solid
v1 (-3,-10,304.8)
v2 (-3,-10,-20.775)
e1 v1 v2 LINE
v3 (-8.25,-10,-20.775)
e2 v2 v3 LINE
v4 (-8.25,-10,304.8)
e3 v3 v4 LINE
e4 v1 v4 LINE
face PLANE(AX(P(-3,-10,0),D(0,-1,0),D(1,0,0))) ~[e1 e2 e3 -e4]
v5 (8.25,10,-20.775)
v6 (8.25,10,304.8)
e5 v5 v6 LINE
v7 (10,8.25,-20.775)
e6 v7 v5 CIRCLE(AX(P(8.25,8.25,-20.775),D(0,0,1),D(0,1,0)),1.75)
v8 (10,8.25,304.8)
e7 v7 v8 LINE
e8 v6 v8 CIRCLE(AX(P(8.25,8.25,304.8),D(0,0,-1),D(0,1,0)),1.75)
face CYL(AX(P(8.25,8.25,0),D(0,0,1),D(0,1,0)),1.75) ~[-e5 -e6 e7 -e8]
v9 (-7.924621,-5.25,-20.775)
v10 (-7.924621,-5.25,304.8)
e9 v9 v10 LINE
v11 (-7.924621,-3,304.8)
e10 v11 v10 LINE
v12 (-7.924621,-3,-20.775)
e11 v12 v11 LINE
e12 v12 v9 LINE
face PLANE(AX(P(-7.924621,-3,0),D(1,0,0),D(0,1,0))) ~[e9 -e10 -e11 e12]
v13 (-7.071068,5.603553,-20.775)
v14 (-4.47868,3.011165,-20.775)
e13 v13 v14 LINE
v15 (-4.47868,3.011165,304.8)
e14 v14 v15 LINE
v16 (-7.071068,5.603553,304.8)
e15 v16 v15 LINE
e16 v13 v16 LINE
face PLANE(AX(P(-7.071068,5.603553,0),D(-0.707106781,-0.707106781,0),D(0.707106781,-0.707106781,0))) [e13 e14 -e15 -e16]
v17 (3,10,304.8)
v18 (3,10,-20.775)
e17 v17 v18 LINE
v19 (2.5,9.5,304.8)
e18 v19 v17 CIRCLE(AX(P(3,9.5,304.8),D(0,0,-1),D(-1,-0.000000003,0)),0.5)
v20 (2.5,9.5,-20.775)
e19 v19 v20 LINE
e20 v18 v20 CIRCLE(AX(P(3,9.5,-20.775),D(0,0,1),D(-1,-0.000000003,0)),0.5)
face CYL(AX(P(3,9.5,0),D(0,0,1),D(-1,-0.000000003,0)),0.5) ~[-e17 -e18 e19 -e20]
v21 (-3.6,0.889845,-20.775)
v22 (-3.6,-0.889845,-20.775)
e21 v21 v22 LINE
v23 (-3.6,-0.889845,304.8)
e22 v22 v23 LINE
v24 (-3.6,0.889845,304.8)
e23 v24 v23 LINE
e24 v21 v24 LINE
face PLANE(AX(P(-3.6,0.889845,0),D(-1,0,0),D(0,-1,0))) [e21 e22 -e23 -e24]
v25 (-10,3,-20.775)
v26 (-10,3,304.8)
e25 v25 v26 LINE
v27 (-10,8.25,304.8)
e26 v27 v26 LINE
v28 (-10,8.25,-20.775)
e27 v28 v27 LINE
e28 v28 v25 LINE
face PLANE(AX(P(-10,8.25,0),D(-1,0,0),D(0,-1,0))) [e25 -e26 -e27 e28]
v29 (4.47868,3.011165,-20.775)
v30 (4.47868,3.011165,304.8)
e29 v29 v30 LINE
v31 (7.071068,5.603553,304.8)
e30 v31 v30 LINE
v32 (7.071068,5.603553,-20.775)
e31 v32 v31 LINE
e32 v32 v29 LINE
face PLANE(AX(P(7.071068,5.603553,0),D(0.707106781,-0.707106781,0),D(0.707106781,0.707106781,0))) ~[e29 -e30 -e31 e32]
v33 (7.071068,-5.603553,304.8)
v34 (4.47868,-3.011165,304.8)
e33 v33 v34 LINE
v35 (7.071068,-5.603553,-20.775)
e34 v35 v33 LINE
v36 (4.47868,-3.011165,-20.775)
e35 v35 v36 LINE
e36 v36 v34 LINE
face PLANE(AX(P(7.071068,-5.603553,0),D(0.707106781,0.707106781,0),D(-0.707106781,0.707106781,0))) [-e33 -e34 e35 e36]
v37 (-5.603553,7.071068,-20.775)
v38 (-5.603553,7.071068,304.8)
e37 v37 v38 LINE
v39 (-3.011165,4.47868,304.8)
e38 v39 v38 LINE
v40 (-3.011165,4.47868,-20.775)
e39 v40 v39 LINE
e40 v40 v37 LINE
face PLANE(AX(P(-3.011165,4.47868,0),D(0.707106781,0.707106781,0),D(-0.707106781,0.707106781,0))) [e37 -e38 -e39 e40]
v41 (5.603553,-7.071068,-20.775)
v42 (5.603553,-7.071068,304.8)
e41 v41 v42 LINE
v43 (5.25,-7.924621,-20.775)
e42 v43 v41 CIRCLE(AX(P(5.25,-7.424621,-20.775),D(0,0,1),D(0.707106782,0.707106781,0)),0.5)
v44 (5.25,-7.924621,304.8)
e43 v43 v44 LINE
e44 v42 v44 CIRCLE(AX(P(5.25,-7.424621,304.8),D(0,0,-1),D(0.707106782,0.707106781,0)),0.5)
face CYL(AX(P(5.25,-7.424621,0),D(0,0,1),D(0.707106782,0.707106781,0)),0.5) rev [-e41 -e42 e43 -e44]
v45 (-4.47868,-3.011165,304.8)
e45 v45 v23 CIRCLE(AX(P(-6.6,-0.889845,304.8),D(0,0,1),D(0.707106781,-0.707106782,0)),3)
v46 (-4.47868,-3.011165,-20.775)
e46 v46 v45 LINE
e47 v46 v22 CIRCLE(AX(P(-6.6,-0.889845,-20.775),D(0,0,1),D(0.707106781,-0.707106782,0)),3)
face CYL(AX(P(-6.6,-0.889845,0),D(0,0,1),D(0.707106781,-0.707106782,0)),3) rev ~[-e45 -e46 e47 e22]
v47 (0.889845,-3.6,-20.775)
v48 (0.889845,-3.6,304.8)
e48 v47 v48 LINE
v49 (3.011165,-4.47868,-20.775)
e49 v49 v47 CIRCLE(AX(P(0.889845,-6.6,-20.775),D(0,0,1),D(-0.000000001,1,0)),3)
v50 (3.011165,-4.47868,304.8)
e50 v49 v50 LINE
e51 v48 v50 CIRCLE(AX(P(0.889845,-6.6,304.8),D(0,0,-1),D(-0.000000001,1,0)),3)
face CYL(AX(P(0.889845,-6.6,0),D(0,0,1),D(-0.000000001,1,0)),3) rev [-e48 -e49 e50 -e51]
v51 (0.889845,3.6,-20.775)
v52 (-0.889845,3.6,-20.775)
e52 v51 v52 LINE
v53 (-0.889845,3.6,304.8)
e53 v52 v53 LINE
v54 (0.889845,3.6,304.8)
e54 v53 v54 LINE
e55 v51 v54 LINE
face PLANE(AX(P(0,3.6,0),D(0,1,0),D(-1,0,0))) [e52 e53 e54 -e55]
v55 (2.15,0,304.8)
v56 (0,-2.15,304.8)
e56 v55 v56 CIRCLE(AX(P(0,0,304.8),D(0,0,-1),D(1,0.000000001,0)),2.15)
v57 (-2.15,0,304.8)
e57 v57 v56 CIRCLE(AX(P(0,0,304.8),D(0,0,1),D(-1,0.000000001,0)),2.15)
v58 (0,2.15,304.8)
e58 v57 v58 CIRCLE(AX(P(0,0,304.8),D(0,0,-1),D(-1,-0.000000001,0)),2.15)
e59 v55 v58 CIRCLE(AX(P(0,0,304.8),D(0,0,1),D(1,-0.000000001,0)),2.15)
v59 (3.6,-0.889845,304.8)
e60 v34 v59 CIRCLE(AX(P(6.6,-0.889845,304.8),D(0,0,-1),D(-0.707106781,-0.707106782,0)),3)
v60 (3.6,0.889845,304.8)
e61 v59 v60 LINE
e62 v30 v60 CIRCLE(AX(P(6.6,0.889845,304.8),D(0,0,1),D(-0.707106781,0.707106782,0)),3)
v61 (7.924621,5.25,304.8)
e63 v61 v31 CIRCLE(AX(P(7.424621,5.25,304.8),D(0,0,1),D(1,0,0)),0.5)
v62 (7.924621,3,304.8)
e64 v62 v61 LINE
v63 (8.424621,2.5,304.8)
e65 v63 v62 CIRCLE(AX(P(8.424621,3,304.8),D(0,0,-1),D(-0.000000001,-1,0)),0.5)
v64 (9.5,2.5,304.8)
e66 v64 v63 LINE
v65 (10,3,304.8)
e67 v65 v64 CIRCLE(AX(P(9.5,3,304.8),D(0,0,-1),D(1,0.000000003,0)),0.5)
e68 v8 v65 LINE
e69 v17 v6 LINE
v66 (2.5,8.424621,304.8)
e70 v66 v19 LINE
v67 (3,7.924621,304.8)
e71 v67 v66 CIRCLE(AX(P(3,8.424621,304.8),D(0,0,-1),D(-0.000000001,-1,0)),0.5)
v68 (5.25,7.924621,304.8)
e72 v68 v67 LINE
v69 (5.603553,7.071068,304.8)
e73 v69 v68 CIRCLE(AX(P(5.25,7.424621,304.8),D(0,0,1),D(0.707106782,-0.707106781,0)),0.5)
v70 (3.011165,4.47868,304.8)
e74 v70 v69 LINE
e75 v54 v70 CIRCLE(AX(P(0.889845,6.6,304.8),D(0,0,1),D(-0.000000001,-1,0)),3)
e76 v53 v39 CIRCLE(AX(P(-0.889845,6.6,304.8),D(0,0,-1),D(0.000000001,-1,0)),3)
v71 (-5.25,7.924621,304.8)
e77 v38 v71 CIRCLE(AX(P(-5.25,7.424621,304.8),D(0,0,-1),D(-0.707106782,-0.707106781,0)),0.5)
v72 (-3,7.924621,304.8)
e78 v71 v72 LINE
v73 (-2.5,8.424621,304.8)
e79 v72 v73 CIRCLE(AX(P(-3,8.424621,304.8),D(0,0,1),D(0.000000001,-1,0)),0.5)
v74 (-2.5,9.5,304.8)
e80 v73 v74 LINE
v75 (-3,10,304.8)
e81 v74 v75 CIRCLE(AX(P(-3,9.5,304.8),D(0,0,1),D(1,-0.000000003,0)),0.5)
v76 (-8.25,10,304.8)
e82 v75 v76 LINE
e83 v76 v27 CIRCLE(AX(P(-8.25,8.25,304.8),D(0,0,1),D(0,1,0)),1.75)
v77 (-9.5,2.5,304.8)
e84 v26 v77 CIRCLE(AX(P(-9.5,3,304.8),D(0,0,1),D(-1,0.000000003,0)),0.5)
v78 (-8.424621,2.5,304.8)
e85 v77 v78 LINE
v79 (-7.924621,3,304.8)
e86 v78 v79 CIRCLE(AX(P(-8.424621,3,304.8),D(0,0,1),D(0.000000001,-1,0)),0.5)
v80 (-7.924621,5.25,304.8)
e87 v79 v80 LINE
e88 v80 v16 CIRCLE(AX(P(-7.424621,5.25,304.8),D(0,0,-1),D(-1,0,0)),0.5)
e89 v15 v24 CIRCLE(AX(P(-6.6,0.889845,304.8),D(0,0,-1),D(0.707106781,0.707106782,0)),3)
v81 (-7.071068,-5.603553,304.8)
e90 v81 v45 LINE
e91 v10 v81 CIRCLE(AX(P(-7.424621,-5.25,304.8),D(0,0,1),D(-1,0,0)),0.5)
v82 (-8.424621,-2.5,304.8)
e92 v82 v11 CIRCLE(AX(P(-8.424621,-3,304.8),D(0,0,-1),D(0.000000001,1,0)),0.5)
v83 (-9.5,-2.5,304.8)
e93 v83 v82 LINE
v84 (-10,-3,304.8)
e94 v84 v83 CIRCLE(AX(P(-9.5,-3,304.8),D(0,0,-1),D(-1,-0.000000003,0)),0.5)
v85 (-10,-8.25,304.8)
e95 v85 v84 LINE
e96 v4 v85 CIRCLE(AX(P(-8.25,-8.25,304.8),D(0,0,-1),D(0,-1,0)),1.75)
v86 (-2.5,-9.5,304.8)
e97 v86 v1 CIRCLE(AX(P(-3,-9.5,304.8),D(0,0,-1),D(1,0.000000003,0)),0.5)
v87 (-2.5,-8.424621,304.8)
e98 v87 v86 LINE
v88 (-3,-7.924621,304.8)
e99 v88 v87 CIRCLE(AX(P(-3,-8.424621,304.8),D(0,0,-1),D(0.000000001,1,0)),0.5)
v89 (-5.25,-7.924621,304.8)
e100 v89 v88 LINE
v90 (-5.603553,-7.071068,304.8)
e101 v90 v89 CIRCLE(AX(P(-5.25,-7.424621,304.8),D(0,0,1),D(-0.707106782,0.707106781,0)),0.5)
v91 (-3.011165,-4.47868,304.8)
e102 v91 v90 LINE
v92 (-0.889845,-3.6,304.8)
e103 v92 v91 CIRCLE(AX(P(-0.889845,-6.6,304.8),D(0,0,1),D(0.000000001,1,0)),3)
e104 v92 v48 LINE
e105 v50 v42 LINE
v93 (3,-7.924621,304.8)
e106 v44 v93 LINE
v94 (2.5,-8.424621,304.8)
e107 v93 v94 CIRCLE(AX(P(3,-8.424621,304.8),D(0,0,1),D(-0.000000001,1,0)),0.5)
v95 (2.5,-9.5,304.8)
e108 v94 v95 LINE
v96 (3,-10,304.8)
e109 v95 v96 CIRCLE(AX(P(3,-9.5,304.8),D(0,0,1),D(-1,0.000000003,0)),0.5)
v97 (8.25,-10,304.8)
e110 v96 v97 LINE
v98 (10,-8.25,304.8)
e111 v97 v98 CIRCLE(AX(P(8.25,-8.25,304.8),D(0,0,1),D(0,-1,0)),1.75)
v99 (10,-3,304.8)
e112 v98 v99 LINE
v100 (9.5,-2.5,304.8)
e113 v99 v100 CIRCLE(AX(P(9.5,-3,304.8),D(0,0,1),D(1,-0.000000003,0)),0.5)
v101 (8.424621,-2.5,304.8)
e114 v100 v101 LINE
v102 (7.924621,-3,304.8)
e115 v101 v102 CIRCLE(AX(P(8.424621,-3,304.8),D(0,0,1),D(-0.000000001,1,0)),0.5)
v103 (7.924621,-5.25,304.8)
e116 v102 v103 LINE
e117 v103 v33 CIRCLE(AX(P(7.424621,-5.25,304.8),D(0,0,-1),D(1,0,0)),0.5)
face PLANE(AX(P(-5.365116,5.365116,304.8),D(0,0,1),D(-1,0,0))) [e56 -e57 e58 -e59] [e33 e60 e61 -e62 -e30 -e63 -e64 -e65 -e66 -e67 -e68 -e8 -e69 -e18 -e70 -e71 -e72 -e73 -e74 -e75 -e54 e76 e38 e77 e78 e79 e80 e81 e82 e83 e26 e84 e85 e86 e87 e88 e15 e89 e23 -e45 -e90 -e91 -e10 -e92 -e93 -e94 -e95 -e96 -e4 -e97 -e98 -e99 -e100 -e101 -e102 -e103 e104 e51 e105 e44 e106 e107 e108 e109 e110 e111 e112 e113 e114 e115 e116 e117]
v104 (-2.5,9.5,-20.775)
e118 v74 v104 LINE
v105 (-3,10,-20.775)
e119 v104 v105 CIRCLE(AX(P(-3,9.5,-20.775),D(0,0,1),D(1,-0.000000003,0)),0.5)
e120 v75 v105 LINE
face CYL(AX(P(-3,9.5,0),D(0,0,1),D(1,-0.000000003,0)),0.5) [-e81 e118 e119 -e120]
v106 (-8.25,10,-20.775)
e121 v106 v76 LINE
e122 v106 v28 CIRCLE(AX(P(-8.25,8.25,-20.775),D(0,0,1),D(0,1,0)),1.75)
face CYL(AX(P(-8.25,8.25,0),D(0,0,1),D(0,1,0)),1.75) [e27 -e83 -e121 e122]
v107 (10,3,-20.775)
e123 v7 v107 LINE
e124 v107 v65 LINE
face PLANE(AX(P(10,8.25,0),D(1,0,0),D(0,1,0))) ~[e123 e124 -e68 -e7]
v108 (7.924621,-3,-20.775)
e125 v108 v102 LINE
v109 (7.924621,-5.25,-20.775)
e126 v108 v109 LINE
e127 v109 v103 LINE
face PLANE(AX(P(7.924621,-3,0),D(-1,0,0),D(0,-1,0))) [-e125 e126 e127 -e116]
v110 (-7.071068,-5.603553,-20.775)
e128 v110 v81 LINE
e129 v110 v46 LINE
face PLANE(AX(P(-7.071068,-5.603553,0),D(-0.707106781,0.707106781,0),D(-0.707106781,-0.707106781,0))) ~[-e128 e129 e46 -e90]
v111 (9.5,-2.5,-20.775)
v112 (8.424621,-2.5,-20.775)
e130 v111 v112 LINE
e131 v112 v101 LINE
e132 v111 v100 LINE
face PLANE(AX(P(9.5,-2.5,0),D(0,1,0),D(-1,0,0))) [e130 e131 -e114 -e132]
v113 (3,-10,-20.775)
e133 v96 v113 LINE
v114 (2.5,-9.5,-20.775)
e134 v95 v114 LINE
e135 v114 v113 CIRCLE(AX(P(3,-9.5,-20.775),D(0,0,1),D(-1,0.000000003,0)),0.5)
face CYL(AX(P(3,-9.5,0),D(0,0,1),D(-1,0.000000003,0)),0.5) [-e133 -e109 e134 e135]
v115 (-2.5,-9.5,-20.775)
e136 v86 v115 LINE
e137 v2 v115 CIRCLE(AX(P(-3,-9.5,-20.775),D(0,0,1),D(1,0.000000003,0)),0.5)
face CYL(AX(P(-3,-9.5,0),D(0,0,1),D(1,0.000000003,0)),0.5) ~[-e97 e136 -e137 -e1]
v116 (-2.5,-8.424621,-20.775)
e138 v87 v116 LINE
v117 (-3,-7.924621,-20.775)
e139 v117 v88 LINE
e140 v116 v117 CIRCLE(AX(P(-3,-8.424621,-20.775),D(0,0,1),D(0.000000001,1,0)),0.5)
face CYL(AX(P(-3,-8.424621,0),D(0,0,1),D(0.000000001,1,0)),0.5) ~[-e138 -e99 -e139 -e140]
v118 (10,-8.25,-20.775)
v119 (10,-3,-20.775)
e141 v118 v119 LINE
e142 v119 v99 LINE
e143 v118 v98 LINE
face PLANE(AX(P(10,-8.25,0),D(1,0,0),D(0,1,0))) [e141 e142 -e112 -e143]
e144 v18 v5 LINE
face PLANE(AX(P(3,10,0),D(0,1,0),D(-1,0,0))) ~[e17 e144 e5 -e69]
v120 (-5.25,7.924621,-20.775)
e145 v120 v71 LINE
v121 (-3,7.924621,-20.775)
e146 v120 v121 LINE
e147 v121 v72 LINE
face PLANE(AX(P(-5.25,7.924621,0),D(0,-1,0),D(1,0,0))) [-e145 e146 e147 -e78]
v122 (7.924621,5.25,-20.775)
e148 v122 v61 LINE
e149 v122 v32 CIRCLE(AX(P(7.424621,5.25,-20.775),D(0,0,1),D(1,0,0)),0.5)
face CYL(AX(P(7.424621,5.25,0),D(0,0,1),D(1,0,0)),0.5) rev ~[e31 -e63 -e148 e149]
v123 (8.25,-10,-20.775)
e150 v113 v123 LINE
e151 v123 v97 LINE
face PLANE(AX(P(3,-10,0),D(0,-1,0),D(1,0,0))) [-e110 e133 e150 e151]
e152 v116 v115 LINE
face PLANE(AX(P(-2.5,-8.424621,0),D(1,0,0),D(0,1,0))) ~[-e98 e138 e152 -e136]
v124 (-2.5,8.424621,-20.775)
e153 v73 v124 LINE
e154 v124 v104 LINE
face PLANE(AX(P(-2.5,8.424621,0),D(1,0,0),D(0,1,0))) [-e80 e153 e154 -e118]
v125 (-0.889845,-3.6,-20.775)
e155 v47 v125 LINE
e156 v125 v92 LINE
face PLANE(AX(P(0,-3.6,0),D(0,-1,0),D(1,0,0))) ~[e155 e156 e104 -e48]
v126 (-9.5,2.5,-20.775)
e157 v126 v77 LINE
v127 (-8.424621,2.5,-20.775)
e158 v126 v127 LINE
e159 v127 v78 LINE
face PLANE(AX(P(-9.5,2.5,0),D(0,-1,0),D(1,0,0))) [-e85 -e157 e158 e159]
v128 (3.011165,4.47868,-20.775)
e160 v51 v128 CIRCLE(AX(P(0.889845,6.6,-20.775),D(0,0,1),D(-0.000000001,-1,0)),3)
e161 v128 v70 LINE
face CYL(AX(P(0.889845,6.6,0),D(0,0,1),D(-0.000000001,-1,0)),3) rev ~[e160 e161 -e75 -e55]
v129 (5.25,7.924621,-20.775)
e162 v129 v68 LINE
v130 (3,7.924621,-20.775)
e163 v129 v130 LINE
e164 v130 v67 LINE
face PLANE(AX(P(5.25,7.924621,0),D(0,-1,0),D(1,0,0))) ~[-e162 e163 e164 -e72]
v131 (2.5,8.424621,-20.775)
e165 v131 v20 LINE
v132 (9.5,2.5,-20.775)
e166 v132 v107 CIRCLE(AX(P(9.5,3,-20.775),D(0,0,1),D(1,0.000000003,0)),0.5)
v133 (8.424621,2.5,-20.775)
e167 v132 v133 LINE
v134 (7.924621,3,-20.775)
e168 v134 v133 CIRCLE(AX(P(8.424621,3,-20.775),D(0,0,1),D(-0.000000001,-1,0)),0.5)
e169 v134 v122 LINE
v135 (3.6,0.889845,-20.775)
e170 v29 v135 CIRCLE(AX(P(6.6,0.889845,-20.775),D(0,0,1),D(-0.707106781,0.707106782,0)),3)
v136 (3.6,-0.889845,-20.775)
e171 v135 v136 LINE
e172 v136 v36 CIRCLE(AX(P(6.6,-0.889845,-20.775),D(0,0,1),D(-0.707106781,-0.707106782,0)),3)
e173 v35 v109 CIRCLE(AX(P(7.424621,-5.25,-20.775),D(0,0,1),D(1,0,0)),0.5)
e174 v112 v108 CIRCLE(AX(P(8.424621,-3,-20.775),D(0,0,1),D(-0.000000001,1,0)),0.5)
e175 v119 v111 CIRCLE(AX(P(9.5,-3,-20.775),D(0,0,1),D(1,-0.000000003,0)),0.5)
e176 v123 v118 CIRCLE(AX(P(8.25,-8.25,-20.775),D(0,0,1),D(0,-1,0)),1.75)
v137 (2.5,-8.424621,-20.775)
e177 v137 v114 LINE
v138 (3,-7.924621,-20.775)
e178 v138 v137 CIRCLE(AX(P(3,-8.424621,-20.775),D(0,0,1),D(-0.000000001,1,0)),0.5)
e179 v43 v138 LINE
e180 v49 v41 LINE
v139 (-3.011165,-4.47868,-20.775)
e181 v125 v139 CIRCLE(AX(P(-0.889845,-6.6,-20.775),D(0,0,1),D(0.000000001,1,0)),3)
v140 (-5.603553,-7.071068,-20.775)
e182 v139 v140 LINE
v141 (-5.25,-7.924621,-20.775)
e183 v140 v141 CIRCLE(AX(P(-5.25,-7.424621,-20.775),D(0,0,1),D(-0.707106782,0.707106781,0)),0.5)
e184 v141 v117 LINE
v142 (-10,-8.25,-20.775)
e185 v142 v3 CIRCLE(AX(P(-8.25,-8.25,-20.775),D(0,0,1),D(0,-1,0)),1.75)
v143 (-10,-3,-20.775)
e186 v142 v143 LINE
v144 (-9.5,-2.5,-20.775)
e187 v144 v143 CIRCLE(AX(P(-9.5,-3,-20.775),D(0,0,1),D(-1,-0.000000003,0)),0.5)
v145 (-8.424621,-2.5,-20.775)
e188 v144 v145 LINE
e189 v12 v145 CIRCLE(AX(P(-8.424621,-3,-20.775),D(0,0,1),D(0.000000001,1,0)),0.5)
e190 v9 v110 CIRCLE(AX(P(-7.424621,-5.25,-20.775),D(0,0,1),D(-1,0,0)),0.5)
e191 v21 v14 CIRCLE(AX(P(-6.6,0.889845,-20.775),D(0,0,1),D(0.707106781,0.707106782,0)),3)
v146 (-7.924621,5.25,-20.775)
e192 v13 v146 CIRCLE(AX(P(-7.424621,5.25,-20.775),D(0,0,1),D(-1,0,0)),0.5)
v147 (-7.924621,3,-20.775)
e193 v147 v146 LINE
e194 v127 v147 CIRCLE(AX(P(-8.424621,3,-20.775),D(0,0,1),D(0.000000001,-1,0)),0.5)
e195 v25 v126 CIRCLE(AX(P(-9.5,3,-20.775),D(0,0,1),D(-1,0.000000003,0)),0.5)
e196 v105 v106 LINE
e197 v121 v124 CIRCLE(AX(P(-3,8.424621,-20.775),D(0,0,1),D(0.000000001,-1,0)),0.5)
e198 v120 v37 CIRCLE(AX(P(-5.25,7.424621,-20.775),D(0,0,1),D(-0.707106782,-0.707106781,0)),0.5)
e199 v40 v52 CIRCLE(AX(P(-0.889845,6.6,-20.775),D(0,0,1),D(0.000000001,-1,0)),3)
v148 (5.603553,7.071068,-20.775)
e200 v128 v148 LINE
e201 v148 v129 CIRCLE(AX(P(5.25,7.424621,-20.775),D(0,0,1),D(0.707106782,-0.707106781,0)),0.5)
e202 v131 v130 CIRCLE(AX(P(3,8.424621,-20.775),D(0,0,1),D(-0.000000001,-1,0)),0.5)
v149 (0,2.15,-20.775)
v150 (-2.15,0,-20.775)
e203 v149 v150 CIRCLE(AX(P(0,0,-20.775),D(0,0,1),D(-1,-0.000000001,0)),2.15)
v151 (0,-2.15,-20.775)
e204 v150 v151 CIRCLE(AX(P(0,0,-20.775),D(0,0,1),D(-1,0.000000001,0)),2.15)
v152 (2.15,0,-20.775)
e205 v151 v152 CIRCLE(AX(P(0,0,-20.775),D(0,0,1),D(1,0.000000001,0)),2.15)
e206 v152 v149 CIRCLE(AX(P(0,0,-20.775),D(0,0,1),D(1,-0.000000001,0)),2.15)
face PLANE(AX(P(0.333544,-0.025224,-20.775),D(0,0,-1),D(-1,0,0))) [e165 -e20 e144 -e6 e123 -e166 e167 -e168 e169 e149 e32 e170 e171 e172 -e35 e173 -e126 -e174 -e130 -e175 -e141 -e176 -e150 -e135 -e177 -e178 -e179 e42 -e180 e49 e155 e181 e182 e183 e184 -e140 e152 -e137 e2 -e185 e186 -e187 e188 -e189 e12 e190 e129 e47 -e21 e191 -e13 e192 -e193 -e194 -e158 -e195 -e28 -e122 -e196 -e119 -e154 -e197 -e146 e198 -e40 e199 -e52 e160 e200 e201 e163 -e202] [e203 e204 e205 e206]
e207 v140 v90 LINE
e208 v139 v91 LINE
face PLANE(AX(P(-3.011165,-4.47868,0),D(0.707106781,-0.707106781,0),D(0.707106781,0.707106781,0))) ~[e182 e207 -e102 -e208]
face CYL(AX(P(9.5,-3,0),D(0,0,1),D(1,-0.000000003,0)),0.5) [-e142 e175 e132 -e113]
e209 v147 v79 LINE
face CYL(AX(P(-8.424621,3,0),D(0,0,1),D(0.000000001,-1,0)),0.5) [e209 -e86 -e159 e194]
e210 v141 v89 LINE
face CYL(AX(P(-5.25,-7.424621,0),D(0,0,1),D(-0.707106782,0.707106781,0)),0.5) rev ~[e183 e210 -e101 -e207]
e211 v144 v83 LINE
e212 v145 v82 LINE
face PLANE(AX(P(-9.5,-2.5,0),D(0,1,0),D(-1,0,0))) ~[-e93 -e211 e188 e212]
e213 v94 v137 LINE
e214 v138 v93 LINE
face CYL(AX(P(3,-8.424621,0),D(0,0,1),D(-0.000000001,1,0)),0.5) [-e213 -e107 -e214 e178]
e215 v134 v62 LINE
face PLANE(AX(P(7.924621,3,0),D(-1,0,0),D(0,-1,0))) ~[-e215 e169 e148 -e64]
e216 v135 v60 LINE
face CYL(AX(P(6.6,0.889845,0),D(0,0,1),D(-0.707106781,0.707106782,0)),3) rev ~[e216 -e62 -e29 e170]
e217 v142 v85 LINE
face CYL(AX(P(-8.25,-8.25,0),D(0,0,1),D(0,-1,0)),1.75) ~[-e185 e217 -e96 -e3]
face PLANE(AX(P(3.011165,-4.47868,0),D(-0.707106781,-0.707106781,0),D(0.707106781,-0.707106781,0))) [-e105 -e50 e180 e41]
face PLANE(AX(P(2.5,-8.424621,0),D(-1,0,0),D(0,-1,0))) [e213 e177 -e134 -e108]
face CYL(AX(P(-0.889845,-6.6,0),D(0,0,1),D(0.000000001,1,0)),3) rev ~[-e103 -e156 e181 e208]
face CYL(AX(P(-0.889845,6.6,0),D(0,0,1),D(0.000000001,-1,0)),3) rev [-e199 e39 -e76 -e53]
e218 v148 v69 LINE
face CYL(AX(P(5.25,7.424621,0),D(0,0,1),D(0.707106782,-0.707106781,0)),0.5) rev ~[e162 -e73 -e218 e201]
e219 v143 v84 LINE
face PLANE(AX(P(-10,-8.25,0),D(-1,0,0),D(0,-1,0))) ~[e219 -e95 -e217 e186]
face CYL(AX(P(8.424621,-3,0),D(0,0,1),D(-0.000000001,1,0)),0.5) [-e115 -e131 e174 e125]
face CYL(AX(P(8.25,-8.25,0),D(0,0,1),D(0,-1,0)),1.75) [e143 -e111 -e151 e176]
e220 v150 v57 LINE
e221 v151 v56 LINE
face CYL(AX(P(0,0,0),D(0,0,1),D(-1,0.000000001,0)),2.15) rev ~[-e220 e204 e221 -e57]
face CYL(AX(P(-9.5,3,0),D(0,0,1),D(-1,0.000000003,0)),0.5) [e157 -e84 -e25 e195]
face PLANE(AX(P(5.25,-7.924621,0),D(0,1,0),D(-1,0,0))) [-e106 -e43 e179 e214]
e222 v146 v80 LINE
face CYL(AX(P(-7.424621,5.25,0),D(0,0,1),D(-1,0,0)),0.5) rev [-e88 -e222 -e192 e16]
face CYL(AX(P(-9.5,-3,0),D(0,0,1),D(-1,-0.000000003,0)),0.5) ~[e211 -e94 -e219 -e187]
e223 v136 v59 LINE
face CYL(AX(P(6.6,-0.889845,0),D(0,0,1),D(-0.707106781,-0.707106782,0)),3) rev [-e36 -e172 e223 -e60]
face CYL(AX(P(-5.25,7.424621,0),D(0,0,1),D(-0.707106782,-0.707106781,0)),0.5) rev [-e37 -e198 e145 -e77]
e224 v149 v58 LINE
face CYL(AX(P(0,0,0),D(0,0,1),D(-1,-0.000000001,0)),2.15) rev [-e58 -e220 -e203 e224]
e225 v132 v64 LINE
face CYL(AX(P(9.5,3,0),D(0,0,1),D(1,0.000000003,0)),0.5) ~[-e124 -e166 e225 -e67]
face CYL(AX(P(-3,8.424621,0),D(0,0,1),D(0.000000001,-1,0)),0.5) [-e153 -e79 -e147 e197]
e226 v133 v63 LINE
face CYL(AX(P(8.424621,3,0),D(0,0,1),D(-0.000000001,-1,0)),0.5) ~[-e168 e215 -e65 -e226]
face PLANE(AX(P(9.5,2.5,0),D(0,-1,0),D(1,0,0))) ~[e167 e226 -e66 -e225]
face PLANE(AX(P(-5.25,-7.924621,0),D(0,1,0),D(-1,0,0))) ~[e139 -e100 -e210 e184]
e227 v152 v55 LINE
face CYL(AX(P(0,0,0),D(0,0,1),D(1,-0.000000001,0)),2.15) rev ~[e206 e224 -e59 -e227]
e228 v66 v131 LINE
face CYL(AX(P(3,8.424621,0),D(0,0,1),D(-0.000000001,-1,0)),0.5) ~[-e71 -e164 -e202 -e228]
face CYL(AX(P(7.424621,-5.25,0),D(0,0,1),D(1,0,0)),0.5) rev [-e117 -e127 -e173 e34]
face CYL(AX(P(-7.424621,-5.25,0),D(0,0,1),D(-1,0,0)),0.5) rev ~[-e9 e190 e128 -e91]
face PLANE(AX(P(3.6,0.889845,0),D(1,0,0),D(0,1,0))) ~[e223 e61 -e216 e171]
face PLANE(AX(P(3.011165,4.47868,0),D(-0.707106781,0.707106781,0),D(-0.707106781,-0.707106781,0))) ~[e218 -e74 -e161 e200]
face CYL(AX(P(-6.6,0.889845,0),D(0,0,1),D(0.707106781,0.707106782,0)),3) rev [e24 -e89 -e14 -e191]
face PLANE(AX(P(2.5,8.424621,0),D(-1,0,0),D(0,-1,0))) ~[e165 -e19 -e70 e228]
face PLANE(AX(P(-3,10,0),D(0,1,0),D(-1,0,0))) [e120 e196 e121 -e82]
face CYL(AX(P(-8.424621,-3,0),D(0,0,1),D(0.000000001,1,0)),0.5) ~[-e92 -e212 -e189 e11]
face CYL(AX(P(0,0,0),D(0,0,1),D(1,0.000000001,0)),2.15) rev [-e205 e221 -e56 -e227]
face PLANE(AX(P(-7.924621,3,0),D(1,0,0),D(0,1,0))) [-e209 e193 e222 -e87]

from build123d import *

# Parameters (mm, degrees)
BOSS_EXTRUDE1_DEPTH = 304.8
SKETCH5_W           = 26.995197012
SKETCH5_H           = 24.68705749
CUT_EXTRUDE1_DEPTH  = 284.025


with BuildPart() as part:
    # Sketch4 → Boss-Extrude1 (new, symmetric)
    with BuildSketch(Plane.XY):
        with BuildLine():
            Line((3, -10), (8.25, -10))
            ThreePointArc((8.25, -10), (9.487436867, -9.487436867), (10, -8.25))
            Line((10, -8.25), (10, -3))
            ThreePointArc((10, -3), (9.853553391, -2.646446609), (9.5, -2.5))
            Line((9.5, -2.5), (8.424621202, -2.5))
            ThreePointArc((8.424621202, -2.5), (8.071067812, -2.646446609), (7.924621202, -3))
            Line((7.924621202, -3), (7.924621202, -5.25))
            ThreePointArc((7.924621202, -5.25), (7.615962919, -5.711939766), (7.071067812, -5.603553391))
            Line((7.071067812, -5.603553391), (4.478679656, -3.011165235))
            ThreePointArc((4.478679656, -3.011165235), (3.828361402, -2.037895189), (3.6, -0.889844892))
            Line((3.6, -0.889844892), (3.6, 0))
            Line((3.6, 0), (2.15, 0))
            ThreePointArc((2.15, 0), (1.52027958, -1.52027958), (0, -2.15))
            Line((0, -2.15), (0, -3.6))
            Line((0, -3.6), (0.889844892, -3.6))
            ThreePointArc((0.889844892, -3.6), (2.037895189, -3.828361402), (3.011165235, -4.478679656))
            Line((3.011165235, -4.478679656), (5.603553391, -7.071067812))
            ThreePointArc((5.603553391, -7.071067812), (5.711939766, -7.615962919), (5.25, -7.924621202))
            Line((5.25, -7.924621202), (3, -7.924621202))
            ThreePointArc((3, -7.924621202), (2.646446609, -8.071067812), (2.5, -8.424621202))
            Line((2.5, -8.424621202), (2.5, -9.5))
            ThreePointArc((2.5, -9.5), (2.646446609, -9.853553391), (3, -10))
        make_face()
    extrude(amount=BOSS_EXTRUDE1_DEPTH, both=True)

    # Mirror1: part across plane


with BuildPart() as part_1:
    add(part.part)
    add(part.part.mirror(Plane(origin=(0, 0, 0), x_dir=(0, 0, 1), z_dir=(1, 0, 0))))

    # Mirror2: part across plane


with BuildPart() as part_2:
    add(part_1.part)
    add(part_1.part.mirror(Plane.ZX))

    # Sketch5 → Cut-Extrude1 (cut)
    with BuildSketch(Plane(origin=(0, 0, -304.8), x_dir=(-1, 0, 0), z_dir=(0, 0, -1))):
        with Locations((-0.333544011, -0.025224209)):
            Rectangle(SKETCH5_W, SKETCH5_H)
    extrude(amount=-CUT_EXTRUDE1_DEPTH, mode=Mode.SUBTRACT)


solid = part_2.part
